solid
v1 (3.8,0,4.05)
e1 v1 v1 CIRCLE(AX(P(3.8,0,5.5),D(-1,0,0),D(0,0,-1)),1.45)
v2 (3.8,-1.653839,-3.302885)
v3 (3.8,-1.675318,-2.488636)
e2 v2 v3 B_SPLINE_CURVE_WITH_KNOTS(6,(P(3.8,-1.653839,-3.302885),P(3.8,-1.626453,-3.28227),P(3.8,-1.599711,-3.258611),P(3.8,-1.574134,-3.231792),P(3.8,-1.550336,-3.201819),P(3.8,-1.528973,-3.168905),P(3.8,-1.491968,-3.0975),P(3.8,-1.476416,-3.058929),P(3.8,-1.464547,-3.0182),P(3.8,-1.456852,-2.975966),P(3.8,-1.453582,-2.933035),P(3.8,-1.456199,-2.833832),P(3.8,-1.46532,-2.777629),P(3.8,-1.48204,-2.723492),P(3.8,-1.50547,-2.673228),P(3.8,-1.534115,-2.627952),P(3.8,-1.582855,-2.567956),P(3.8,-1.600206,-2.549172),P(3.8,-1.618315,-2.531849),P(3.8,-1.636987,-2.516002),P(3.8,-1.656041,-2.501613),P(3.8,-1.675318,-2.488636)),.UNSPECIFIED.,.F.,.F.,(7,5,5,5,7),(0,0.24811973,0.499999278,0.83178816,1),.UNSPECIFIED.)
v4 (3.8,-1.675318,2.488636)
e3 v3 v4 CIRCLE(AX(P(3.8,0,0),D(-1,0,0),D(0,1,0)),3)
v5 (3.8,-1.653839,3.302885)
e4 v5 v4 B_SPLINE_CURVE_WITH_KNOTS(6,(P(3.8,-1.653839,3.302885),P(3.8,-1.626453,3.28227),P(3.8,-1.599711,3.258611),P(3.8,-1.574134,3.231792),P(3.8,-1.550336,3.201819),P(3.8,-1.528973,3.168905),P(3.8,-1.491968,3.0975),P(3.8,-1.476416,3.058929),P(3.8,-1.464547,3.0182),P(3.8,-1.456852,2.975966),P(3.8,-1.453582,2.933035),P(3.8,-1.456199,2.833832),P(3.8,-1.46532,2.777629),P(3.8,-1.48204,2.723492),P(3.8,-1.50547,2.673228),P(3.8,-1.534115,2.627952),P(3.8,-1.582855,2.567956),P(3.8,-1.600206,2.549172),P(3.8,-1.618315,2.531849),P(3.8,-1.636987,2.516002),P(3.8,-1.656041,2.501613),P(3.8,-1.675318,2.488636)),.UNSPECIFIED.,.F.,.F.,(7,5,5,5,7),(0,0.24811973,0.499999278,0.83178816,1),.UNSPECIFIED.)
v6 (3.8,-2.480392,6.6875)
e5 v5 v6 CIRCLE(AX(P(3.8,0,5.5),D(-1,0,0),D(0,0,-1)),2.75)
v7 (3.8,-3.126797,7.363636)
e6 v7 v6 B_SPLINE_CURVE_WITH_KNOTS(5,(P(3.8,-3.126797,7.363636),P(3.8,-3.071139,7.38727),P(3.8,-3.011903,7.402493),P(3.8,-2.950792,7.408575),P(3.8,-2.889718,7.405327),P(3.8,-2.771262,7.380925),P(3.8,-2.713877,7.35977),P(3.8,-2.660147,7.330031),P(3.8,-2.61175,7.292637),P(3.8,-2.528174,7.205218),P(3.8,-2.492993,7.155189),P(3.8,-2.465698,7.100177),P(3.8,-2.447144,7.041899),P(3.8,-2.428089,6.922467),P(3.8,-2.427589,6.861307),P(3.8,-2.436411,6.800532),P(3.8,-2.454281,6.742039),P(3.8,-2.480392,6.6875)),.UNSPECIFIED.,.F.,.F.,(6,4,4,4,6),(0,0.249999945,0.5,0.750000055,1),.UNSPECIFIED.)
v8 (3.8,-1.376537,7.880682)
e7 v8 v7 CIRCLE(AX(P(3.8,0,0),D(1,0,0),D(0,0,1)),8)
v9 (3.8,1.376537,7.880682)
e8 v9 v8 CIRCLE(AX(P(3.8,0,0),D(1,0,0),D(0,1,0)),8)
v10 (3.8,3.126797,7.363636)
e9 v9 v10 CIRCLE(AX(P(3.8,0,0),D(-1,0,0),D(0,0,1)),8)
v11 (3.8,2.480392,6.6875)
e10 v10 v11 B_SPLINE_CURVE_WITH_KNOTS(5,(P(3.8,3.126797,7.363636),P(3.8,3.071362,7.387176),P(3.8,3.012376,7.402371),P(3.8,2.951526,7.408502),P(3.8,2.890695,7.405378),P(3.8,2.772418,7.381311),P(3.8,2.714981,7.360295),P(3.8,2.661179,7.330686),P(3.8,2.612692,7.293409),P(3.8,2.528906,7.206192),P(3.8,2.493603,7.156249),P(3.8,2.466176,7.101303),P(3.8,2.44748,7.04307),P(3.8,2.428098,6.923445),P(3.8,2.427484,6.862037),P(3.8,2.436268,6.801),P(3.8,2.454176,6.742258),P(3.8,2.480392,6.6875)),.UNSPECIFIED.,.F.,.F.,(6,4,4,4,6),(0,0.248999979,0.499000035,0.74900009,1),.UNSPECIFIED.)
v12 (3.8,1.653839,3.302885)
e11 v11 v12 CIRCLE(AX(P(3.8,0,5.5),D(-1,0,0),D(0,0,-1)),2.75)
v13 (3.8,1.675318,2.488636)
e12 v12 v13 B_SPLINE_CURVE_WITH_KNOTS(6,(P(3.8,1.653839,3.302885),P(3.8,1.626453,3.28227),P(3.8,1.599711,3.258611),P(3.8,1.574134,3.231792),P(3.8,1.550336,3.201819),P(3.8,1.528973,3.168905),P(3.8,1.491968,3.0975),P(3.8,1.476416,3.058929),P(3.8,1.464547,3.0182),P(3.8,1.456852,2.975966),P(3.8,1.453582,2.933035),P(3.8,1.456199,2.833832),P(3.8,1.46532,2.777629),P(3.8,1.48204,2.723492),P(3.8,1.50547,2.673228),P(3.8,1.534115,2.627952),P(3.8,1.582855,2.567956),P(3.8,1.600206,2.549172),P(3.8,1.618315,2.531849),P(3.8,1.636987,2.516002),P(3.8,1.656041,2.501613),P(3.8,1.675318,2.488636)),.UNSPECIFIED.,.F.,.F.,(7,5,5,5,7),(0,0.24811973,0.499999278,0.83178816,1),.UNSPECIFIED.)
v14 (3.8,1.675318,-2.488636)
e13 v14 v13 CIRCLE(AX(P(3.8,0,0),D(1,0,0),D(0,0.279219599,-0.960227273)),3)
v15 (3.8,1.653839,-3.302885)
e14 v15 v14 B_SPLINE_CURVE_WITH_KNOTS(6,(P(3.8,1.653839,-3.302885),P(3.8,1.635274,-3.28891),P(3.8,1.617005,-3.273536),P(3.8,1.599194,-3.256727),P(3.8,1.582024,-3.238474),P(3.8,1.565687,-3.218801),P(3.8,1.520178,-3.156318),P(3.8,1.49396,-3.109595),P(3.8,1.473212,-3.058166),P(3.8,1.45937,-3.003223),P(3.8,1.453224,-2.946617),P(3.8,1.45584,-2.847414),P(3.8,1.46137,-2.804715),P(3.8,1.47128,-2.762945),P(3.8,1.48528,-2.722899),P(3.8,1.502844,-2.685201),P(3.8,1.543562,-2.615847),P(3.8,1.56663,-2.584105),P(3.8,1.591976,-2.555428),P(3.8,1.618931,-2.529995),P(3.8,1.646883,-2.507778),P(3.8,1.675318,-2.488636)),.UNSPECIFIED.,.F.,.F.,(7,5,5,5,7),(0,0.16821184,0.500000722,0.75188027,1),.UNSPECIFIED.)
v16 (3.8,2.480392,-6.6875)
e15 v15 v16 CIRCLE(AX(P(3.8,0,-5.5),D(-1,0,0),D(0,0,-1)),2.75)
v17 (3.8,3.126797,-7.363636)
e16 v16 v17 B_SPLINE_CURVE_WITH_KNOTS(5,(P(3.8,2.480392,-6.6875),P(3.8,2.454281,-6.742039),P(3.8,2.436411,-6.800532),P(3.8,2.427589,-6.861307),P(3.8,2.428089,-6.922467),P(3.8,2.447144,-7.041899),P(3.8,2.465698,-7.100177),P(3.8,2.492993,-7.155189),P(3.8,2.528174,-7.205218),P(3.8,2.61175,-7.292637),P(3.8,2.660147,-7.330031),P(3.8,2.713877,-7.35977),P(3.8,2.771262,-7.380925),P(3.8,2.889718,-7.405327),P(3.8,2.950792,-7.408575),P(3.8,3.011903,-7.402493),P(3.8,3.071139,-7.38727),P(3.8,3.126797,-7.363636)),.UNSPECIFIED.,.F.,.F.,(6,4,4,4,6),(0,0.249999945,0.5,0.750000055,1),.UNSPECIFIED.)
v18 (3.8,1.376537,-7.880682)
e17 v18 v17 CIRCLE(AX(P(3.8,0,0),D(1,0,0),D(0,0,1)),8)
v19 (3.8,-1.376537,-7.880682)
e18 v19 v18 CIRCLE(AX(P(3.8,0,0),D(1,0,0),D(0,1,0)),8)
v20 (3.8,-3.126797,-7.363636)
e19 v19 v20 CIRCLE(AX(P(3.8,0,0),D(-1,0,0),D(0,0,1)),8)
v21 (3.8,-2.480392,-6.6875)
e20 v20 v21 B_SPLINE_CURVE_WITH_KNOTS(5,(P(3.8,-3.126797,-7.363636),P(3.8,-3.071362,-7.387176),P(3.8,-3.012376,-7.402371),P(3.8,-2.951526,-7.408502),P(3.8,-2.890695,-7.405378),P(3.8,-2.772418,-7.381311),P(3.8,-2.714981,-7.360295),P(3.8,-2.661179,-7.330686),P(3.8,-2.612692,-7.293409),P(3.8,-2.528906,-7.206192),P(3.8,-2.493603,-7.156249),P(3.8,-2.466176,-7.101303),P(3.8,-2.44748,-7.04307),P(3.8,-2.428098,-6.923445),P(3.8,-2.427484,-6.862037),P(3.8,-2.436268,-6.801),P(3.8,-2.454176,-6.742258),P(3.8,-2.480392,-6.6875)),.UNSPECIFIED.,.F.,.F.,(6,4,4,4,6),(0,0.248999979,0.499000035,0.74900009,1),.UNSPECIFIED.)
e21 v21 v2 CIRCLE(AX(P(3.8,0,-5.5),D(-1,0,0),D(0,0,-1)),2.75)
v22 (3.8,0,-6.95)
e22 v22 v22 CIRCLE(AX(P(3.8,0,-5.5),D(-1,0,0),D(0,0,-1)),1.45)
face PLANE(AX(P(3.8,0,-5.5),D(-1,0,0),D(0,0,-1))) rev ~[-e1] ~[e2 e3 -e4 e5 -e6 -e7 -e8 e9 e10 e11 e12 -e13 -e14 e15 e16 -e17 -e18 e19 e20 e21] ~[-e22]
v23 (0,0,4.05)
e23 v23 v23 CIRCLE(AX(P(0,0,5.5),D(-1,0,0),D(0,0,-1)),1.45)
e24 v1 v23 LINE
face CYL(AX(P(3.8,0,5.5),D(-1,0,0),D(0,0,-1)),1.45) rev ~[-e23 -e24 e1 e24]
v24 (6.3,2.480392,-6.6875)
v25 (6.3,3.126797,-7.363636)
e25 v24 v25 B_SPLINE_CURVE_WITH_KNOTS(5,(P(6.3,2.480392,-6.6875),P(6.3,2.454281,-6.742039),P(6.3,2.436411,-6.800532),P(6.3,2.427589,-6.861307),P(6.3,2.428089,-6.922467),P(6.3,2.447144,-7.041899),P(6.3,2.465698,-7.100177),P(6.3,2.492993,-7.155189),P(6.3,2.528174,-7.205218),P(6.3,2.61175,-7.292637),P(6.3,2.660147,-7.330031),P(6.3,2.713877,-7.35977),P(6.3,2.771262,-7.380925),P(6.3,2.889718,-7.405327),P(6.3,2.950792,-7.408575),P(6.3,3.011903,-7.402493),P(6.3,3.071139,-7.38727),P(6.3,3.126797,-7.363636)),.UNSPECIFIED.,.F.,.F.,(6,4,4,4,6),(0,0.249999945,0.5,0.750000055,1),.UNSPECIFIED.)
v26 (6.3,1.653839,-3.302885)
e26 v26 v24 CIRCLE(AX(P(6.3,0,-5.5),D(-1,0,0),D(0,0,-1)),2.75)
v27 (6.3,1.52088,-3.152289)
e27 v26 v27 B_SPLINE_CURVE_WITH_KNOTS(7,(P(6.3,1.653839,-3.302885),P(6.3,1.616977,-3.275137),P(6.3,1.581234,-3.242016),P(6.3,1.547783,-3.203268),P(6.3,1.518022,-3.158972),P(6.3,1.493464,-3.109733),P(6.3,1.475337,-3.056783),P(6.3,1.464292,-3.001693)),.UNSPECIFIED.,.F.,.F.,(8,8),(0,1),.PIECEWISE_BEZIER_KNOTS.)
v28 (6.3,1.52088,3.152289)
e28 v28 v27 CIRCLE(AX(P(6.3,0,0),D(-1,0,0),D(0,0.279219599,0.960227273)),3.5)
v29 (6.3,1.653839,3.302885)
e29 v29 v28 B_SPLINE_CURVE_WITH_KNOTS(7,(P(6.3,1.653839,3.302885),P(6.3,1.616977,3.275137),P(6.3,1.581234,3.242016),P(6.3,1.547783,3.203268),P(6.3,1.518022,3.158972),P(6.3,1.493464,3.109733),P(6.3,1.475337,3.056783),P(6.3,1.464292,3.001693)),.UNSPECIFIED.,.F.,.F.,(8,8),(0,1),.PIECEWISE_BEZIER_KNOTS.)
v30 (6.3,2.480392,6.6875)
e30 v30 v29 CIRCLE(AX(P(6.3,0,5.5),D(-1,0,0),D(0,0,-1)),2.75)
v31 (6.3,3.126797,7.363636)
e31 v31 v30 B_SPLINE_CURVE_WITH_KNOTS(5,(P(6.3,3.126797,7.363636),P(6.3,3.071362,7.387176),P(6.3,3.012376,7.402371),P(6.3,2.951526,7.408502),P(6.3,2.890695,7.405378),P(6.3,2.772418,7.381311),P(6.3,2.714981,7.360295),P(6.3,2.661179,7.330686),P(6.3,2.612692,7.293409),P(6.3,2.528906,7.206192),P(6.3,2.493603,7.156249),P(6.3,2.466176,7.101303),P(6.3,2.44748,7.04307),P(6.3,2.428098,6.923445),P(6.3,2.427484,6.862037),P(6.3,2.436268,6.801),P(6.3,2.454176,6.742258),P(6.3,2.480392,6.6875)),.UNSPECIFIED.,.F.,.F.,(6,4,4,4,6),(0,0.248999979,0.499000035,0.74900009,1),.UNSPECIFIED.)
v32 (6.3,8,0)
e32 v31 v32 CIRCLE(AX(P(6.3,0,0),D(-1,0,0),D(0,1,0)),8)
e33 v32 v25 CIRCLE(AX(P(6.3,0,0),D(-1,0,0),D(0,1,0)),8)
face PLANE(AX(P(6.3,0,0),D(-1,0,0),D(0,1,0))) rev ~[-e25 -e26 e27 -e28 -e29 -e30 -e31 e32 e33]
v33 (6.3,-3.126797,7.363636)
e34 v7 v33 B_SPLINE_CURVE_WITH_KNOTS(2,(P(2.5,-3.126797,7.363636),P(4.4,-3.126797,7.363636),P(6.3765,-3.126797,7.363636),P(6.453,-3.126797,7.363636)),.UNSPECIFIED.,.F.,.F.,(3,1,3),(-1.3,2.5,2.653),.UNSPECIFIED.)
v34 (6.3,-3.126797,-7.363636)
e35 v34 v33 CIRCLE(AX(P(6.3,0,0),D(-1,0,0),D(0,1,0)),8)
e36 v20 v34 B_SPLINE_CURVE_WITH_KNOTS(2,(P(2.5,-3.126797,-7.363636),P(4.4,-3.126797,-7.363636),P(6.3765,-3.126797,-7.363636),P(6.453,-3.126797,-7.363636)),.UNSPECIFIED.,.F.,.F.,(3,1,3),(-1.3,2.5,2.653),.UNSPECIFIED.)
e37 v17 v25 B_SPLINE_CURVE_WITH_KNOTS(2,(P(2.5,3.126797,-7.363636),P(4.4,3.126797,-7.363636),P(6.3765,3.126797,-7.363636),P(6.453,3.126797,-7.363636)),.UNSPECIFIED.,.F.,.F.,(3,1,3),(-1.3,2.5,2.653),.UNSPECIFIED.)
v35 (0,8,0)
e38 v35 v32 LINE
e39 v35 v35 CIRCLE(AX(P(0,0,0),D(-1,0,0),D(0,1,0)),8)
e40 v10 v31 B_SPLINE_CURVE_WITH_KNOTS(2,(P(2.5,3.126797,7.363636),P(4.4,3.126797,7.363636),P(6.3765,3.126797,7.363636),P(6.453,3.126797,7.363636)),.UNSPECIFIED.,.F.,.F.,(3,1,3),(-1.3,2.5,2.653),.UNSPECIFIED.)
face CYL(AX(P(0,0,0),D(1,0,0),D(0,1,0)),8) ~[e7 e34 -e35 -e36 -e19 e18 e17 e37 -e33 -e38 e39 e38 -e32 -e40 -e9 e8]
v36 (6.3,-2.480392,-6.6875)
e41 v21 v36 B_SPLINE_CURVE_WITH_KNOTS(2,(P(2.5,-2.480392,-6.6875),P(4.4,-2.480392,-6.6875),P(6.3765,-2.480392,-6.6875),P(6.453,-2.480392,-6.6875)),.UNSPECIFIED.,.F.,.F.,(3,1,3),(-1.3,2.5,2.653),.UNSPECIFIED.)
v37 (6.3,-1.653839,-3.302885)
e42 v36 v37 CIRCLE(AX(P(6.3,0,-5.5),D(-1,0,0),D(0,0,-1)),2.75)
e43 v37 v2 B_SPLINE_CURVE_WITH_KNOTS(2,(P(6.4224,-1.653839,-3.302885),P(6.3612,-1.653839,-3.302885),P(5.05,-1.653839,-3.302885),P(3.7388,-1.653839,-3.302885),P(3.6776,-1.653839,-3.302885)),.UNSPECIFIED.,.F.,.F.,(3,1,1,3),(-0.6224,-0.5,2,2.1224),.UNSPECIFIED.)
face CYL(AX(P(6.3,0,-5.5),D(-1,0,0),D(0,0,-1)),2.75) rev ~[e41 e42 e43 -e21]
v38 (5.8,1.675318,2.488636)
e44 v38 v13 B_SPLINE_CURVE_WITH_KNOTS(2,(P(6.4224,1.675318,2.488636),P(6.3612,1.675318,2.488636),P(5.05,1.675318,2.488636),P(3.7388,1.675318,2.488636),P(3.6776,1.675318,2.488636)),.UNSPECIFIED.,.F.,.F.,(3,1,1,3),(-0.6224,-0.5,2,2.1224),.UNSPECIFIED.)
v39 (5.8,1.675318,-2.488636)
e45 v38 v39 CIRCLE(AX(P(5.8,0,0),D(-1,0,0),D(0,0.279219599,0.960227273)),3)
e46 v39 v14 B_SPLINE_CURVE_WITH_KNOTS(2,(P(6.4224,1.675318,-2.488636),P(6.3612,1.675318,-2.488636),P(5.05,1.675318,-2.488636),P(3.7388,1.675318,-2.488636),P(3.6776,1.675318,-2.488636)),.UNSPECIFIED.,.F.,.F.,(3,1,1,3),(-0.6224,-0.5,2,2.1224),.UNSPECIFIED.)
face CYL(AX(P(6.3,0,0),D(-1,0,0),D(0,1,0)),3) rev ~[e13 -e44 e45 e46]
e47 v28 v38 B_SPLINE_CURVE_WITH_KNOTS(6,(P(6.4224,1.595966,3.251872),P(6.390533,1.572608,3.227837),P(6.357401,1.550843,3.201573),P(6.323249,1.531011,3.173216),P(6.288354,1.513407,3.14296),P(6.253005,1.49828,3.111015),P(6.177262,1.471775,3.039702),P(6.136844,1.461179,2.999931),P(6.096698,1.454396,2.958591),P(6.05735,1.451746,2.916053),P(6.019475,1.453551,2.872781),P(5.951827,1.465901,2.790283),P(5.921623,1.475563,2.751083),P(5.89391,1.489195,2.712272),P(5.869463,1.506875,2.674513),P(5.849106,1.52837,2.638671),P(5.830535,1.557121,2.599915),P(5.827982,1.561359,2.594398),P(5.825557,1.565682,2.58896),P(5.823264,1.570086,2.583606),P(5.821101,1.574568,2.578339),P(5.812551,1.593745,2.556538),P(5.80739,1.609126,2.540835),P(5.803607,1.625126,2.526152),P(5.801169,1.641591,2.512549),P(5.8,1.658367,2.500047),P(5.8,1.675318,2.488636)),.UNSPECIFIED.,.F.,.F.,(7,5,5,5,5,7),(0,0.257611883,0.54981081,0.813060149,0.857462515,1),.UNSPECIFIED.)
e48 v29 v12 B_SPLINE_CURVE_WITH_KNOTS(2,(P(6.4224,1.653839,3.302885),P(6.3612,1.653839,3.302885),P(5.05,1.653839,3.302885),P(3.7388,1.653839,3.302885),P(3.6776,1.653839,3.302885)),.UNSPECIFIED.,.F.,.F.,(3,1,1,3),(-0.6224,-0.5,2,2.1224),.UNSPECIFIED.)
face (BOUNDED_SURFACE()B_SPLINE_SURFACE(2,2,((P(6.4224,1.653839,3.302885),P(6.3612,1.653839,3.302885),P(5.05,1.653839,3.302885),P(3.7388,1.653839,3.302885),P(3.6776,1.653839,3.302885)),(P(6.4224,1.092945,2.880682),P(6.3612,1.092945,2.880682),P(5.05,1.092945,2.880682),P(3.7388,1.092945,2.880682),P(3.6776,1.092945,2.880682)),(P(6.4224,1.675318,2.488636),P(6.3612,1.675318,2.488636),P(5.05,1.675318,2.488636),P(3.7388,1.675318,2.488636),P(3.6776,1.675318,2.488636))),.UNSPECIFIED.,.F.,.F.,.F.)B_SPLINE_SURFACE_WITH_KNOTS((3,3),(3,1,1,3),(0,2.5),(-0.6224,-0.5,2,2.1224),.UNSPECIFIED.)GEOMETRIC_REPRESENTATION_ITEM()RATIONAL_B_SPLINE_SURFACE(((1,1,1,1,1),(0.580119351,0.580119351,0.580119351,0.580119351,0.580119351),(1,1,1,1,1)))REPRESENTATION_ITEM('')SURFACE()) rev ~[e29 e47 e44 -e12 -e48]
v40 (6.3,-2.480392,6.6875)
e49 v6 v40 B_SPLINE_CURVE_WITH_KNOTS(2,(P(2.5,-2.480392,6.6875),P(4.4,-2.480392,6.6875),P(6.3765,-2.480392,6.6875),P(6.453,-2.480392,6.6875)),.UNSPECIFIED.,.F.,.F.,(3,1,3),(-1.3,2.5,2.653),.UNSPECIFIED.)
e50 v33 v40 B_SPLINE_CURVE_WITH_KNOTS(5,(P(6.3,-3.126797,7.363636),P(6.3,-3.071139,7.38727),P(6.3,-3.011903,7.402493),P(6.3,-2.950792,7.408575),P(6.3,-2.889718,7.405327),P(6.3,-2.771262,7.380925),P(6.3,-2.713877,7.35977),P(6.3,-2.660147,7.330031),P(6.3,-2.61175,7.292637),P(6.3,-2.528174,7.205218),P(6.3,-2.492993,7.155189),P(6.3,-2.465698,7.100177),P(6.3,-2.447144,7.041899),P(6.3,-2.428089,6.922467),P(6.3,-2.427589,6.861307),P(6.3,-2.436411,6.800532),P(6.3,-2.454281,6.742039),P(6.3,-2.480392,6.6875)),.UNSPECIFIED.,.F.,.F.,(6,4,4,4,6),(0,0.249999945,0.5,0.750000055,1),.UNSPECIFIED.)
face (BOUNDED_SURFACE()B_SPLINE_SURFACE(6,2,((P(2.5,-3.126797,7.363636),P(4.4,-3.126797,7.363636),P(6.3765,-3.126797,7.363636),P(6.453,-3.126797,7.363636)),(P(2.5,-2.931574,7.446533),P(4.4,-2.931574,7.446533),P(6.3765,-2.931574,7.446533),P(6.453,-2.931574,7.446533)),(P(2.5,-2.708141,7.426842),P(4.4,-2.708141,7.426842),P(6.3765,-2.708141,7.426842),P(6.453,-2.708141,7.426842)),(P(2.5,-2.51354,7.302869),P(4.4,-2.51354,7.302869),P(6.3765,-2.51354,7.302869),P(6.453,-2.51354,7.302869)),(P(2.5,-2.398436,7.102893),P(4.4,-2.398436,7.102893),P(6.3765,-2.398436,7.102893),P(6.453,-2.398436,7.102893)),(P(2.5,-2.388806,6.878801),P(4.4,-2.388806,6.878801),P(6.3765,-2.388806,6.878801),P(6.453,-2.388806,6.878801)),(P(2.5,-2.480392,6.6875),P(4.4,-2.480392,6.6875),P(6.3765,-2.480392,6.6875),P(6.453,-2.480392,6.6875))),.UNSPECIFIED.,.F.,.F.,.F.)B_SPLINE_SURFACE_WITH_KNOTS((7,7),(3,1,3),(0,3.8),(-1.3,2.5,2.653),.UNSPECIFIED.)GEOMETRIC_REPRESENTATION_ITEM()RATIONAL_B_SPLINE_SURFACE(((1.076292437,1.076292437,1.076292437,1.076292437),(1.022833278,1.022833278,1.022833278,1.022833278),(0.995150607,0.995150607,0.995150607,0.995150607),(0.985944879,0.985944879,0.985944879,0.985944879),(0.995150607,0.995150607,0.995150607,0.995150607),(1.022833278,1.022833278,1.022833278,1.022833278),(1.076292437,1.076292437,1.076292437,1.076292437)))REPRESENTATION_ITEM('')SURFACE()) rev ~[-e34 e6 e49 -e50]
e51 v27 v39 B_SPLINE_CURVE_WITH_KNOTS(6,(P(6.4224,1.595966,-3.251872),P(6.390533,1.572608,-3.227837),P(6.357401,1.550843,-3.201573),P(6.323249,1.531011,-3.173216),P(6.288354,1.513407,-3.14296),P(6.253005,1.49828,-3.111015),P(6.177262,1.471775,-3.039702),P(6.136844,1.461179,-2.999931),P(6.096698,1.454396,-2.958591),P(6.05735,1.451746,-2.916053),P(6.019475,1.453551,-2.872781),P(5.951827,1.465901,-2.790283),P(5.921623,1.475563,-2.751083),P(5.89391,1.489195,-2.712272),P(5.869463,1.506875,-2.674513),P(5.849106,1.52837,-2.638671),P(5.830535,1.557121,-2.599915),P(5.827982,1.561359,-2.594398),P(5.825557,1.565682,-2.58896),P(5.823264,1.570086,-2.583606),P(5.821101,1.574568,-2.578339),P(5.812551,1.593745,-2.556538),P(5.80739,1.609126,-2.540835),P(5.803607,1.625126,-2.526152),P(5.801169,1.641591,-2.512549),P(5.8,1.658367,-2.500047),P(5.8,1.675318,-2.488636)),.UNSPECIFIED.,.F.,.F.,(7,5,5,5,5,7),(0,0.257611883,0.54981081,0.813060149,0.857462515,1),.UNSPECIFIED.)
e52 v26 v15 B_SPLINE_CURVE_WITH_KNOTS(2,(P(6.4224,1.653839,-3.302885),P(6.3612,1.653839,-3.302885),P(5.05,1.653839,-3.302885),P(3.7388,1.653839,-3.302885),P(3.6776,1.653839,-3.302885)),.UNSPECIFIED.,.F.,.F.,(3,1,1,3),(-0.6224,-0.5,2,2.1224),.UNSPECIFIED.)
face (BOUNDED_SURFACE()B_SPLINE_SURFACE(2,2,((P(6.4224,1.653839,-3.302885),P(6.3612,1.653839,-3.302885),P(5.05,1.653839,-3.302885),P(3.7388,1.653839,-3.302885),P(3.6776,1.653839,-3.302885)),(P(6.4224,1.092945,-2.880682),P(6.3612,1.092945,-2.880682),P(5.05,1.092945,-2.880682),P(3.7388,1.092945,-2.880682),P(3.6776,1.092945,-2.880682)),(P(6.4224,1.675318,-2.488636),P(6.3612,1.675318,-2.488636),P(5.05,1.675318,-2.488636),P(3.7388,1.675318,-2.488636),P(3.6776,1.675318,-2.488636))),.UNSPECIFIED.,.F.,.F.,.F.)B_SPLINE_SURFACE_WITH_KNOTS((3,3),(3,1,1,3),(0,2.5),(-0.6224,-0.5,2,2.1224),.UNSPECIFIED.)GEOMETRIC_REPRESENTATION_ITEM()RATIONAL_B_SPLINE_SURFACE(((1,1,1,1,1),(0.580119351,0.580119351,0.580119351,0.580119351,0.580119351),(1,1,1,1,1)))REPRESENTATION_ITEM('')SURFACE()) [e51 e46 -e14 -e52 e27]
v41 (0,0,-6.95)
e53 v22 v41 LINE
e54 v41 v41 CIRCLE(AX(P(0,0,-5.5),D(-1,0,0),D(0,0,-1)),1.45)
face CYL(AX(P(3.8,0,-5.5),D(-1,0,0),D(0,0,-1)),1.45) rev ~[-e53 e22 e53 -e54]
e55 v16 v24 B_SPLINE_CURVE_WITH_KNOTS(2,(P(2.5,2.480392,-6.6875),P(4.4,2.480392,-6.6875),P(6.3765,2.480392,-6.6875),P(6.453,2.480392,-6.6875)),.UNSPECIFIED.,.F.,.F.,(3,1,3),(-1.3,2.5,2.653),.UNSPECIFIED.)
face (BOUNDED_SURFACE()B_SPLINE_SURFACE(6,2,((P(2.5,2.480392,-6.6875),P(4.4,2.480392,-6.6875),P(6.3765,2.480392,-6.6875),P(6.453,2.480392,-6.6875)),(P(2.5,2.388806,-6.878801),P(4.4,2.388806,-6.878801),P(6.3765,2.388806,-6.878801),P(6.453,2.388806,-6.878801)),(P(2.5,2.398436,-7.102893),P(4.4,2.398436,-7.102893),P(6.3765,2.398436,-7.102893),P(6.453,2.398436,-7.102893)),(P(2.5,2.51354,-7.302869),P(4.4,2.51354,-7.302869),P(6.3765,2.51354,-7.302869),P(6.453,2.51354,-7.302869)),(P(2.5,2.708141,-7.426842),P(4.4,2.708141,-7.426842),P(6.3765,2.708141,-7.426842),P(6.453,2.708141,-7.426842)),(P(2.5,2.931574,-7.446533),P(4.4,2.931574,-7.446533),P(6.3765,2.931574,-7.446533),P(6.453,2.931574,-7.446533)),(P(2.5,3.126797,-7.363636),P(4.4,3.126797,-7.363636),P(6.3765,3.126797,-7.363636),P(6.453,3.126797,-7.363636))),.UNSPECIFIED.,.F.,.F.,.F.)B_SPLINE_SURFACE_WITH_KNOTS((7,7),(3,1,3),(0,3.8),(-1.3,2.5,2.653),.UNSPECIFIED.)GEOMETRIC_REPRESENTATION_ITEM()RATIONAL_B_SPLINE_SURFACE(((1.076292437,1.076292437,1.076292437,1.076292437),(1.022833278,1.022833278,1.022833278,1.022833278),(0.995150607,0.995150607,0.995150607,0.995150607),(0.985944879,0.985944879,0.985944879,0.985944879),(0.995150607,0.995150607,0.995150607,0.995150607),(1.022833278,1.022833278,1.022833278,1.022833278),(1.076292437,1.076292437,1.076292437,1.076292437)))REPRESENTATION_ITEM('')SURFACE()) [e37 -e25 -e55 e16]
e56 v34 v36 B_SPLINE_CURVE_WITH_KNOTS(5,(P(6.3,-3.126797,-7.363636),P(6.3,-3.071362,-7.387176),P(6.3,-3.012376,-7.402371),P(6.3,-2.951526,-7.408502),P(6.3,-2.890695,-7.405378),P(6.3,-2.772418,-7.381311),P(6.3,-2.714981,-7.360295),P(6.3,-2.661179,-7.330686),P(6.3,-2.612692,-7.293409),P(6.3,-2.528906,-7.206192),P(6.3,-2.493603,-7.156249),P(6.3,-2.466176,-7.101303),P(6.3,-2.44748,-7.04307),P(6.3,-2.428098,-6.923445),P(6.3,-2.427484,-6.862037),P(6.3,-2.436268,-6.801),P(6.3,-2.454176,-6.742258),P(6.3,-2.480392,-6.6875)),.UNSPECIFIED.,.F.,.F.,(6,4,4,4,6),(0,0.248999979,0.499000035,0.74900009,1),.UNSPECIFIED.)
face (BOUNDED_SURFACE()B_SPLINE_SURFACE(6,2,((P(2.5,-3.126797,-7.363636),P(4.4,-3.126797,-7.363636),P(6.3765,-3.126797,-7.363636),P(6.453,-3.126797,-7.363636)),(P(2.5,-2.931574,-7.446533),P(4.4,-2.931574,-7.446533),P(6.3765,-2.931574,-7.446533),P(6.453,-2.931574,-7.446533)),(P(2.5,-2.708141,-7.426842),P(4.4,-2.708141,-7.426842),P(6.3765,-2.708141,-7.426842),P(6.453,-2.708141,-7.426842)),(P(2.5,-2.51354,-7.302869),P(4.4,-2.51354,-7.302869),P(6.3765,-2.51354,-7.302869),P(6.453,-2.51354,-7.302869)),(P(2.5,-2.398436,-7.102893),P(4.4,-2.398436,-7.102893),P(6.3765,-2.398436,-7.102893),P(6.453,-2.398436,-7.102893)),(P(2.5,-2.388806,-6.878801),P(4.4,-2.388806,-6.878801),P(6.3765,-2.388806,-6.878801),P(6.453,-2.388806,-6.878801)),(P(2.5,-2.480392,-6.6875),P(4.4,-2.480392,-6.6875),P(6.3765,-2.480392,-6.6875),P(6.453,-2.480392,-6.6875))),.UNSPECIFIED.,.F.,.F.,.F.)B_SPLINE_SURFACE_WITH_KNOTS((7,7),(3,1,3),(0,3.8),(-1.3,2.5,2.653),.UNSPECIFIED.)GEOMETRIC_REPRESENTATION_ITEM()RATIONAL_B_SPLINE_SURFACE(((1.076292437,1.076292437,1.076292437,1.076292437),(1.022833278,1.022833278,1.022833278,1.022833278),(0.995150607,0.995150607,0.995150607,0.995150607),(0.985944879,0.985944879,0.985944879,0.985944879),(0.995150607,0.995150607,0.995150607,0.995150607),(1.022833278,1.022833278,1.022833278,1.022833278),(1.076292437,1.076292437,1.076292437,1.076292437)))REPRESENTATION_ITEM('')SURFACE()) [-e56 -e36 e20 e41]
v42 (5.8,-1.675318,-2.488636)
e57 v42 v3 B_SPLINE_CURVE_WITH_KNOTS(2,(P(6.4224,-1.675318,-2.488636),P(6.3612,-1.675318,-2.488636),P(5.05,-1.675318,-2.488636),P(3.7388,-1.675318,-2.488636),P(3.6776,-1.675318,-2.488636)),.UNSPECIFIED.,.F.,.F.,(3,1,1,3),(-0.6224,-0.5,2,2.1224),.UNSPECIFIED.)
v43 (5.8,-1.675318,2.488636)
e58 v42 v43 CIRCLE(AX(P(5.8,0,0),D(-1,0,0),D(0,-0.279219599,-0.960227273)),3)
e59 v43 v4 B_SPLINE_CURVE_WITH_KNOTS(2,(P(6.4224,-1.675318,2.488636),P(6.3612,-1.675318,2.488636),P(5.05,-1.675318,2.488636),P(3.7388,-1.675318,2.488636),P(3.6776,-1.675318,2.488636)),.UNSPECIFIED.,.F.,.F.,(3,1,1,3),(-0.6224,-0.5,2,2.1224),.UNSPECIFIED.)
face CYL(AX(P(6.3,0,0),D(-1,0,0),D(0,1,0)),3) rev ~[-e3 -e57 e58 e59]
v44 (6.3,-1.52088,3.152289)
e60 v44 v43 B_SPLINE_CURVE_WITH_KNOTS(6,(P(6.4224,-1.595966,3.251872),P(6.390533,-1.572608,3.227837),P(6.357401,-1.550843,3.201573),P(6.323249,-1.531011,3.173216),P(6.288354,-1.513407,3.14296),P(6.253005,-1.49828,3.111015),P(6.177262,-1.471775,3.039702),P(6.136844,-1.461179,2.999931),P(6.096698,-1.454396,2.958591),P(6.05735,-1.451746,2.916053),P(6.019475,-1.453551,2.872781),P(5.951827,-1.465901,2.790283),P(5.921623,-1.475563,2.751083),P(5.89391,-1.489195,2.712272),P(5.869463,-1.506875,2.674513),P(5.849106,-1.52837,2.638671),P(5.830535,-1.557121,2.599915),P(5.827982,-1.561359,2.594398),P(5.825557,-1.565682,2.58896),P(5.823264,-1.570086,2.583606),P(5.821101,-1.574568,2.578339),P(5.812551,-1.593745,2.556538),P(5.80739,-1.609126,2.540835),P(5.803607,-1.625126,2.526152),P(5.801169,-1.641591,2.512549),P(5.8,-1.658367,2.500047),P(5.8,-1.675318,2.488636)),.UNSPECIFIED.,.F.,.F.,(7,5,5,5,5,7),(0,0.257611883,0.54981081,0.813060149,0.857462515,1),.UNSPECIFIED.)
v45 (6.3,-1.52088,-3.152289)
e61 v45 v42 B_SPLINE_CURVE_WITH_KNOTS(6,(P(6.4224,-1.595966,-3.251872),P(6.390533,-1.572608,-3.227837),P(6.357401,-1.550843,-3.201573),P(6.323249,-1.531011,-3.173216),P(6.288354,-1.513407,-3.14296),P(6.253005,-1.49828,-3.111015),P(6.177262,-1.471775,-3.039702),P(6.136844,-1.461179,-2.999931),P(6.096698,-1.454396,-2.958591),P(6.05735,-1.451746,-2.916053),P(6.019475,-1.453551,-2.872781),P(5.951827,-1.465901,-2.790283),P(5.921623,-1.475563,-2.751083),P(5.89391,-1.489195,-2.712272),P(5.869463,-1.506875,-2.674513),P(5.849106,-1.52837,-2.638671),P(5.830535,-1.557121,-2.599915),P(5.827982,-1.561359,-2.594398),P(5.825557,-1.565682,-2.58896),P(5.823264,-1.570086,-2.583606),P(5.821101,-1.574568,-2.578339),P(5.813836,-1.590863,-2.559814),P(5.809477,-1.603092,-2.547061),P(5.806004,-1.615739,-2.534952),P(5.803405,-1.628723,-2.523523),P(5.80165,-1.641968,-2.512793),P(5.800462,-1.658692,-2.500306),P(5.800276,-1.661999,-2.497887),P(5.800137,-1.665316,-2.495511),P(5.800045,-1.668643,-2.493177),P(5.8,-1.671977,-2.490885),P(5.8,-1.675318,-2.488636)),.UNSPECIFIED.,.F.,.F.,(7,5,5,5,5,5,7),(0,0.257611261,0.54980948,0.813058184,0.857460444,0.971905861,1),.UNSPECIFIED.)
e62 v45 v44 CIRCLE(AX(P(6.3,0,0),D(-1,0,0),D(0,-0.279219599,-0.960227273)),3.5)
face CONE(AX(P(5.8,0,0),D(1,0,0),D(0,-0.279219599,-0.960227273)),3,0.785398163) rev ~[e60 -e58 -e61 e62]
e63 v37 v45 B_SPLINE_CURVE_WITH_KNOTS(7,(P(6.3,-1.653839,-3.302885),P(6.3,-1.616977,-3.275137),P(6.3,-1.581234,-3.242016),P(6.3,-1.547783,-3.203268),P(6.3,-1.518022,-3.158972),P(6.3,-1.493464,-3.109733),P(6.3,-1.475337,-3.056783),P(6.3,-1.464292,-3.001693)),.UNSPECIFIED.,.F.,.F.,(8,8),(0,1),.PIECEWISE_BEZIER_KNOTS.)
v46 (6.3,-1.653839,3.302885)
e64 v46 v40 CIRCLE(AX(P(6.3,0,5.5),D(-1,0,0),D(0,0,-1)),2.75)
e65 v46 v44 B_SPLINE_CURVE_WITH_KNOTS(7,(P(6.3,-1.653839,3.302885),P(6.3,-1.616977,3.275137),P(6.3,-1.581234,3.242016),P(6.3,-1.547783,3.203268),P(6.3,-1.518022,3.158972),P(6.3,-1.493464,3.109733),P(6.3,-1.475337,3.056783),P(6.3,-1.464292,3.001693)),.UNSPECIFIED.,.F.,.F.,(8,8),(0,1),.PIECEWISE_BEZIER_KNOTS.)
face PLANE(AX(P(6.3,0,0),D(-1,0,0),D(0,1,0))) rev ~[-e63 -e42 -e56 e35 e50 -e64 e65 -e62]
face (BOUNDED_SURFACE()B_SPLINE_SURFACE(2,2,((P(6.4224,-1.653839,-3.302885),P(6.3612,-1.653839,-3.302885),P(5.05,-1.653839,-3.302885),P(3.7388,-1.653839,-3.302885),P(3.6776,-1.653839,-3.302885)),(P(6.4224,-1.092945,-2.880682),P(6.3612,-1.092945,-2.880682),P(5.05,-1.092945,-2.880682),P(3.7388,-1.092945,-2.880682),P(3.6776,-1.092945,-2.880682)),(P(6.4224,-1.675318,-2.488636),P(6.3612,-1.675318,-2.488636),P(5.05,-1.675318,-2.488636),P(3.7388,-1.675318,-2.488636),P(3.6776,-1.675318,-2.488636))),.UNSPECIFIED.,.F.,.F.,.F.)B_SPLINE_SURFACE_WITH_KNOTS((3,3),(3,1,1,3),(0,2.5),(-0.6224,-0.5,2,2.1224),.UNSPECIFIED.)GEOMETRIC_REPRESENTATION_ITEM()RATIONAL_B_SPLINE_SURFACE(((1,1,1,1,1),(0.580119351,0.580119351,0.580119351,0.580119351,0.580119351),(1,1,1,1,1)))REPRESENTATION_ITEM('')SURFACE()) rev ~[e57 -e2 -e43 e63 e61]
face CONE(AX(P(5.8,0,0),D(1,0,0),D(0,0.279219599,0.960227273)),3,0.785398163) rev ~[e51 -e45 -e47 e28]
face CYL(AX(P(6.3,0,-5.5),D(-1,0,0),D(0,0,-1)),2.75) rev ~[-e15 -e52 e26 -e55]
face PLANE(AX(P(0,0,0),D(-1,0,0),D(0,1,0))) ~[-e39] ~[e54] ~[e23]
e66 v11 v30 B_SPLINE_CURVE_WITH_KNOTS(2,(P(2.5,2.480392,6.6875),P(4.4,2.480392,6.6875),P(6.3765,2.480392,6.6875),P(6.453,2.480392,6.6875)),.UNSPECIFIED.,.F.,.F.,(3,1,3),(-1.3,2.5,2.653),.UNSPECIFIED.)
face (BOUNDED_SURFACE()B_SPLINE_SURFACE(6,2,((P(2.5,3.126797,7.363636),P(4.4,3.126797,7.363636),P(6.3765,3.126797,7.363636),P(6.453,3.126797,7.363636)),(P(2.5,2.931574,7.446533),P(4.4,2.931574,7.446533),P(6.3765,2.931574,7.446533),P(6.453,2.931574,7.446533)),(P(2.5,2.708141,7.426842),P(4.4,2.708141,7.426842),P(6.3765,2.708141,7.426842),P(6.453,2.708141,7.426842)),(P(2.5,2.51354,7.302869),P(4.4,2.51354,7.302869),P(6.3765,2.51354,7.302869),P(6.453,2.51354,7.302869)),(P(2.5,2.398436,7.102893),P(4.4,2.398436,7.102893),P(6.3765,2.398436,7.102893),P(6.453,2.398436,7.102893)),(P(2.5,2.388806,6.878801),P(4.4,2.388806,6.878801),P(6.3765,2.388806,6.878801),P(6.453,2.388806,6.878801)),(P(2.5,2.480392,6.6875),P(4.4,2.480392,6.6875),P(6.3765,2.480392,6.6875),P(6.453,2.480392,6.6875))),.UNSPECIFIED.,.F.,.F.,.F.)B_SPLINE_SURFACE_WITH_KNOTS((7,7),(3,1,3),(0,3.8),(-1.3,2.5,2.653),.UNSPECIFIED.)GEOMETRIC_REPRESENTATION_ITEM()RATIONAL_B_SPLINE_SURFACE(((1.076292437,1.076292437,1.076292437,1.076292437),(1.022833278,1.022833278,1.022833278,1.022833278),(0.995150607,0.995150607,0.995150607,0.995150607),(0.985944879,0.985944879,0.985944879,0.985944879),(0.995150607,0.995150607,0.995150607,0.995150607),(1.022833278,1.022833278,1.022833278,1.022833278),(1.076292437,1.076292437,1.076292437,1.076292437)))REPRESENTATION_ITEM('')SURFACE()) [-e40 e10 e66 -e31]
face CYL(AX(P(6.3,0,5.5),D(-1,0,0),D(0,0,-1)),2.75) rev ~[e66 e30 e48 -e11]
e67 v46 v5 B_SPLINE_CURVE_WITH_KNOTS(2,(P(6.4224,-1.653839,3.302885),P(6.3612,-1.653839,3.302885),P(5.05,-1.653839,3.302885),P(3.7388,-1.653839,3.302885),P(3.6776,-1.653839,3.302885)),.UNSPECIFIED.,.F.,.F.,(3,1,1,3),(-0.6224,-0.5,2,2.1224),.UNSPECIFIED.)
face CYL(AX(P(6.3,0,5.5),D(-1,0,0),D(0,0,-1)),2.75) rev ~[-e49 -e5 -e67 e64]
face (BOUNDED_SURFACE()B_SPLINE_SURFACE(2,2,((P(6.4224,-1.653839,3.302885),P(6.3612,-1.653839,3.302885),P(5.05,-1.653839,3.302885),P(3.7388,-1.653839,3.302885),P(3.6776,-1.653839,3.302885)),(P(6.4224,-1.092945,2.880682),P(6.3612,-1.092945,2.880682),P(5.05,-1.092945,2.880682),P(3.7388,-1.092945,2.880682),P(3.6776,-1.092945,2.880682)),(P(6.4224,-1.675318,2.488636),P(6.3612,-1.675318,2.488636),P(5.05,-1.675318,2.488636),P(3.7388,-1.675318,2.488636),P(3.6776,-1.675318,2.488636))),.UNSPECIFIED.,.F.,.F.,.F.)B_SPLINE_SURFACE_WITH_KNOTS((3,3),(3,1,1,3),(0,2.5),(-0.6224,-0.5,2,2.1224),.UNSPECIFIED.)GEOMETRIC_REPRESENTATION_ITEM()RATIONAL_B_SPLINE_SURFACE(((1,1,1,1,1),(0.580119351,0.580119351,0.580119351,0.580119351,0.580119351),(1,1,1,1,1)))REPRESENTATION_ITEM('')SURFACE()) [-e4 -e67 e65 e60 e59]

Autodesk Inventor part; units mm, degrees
ref_plane "YZ Plane" through (0, 0, 0) normal (1, 0, 0) x (0, 1, 0)
ref_plane "XZ Plane" through (0, 0, 0) normal (0, 1, 0) x (-1, 0, 0)
ref_plane "XY Plane" through (0, 0, 0) normal (0, 0, 1) x (1, 0, 0)
sketch "スケッチ1" plane through (0, 0, 0) normal (0, 0, 1) x (1, 0, 0)
  line L0 (0, 0) -> (0, 3.5)
  line L1 (0, 3.5) -> (0, 3.5)
  line L2 (0, 3.5) -> (0, 8)
  line L3 (0, 8) -> (6.3, 8)
  line L4 (6.3, 8) -> (6.3, 3)
  line L5 (6.3, 3) -> (3.8, 3)
  line L6 (3.8, 3) -> (3.8, 0)
  line L7 (3.8, 0) -> (0, 0)
  dimension "d0" = 3.5
  dimension "d1" = 3
  dimension "d2" = 2.5
  dimension "d4" = 0
  dimension "d5" = 8
  dimension "d34" = 3.8
revolve "回転1" add sketch "スケッチ1" angle 360 about axis through (3.8, 0, 0) along (-1, 0, 0)
sketch "スケッチ2" plane through (6.3, 0, 0) normal (1, 0, 0) x (0, 0, -1)
  point P0 (0, 0)
  point P1 (-5.5, 0)
  point P2 (5.5, 0)
  dimension "d10" = 5.5
  dimension "d11" = 5.5
hole "穴1" at (6.3, 0, 5.5) at (6.3, 0, -5.5) direction (-1, 0, 0) diameter 2.9 end through all counterbore diameter 5.5 counterbore depth 2.5 clearance for "Socket Head Cap Screw" size "M2.5" standard "Ansi Metric M Profile"
chamfer "面取り5" distance 0.5 angle 45 2 edges at (6.3, 3, 0) (6.3, -3, 0)
fillet "フィレット2" radius 0.5 8 edges at (4.8, 0.8377, -2.8807) (4.8, 0.8377, 2.8807) (4.8, -0.8377, 2.8807) (4.8, -0.8377, -2.8807) (5.05, 1.3765, -7.8807) (5.05, 1.3765, 7.8807) (5.05, -1.3765, 7.8807) (5.05, -1.3765, -7.8807)
properties part number "unit-base4" material "ABS プラスチック"
